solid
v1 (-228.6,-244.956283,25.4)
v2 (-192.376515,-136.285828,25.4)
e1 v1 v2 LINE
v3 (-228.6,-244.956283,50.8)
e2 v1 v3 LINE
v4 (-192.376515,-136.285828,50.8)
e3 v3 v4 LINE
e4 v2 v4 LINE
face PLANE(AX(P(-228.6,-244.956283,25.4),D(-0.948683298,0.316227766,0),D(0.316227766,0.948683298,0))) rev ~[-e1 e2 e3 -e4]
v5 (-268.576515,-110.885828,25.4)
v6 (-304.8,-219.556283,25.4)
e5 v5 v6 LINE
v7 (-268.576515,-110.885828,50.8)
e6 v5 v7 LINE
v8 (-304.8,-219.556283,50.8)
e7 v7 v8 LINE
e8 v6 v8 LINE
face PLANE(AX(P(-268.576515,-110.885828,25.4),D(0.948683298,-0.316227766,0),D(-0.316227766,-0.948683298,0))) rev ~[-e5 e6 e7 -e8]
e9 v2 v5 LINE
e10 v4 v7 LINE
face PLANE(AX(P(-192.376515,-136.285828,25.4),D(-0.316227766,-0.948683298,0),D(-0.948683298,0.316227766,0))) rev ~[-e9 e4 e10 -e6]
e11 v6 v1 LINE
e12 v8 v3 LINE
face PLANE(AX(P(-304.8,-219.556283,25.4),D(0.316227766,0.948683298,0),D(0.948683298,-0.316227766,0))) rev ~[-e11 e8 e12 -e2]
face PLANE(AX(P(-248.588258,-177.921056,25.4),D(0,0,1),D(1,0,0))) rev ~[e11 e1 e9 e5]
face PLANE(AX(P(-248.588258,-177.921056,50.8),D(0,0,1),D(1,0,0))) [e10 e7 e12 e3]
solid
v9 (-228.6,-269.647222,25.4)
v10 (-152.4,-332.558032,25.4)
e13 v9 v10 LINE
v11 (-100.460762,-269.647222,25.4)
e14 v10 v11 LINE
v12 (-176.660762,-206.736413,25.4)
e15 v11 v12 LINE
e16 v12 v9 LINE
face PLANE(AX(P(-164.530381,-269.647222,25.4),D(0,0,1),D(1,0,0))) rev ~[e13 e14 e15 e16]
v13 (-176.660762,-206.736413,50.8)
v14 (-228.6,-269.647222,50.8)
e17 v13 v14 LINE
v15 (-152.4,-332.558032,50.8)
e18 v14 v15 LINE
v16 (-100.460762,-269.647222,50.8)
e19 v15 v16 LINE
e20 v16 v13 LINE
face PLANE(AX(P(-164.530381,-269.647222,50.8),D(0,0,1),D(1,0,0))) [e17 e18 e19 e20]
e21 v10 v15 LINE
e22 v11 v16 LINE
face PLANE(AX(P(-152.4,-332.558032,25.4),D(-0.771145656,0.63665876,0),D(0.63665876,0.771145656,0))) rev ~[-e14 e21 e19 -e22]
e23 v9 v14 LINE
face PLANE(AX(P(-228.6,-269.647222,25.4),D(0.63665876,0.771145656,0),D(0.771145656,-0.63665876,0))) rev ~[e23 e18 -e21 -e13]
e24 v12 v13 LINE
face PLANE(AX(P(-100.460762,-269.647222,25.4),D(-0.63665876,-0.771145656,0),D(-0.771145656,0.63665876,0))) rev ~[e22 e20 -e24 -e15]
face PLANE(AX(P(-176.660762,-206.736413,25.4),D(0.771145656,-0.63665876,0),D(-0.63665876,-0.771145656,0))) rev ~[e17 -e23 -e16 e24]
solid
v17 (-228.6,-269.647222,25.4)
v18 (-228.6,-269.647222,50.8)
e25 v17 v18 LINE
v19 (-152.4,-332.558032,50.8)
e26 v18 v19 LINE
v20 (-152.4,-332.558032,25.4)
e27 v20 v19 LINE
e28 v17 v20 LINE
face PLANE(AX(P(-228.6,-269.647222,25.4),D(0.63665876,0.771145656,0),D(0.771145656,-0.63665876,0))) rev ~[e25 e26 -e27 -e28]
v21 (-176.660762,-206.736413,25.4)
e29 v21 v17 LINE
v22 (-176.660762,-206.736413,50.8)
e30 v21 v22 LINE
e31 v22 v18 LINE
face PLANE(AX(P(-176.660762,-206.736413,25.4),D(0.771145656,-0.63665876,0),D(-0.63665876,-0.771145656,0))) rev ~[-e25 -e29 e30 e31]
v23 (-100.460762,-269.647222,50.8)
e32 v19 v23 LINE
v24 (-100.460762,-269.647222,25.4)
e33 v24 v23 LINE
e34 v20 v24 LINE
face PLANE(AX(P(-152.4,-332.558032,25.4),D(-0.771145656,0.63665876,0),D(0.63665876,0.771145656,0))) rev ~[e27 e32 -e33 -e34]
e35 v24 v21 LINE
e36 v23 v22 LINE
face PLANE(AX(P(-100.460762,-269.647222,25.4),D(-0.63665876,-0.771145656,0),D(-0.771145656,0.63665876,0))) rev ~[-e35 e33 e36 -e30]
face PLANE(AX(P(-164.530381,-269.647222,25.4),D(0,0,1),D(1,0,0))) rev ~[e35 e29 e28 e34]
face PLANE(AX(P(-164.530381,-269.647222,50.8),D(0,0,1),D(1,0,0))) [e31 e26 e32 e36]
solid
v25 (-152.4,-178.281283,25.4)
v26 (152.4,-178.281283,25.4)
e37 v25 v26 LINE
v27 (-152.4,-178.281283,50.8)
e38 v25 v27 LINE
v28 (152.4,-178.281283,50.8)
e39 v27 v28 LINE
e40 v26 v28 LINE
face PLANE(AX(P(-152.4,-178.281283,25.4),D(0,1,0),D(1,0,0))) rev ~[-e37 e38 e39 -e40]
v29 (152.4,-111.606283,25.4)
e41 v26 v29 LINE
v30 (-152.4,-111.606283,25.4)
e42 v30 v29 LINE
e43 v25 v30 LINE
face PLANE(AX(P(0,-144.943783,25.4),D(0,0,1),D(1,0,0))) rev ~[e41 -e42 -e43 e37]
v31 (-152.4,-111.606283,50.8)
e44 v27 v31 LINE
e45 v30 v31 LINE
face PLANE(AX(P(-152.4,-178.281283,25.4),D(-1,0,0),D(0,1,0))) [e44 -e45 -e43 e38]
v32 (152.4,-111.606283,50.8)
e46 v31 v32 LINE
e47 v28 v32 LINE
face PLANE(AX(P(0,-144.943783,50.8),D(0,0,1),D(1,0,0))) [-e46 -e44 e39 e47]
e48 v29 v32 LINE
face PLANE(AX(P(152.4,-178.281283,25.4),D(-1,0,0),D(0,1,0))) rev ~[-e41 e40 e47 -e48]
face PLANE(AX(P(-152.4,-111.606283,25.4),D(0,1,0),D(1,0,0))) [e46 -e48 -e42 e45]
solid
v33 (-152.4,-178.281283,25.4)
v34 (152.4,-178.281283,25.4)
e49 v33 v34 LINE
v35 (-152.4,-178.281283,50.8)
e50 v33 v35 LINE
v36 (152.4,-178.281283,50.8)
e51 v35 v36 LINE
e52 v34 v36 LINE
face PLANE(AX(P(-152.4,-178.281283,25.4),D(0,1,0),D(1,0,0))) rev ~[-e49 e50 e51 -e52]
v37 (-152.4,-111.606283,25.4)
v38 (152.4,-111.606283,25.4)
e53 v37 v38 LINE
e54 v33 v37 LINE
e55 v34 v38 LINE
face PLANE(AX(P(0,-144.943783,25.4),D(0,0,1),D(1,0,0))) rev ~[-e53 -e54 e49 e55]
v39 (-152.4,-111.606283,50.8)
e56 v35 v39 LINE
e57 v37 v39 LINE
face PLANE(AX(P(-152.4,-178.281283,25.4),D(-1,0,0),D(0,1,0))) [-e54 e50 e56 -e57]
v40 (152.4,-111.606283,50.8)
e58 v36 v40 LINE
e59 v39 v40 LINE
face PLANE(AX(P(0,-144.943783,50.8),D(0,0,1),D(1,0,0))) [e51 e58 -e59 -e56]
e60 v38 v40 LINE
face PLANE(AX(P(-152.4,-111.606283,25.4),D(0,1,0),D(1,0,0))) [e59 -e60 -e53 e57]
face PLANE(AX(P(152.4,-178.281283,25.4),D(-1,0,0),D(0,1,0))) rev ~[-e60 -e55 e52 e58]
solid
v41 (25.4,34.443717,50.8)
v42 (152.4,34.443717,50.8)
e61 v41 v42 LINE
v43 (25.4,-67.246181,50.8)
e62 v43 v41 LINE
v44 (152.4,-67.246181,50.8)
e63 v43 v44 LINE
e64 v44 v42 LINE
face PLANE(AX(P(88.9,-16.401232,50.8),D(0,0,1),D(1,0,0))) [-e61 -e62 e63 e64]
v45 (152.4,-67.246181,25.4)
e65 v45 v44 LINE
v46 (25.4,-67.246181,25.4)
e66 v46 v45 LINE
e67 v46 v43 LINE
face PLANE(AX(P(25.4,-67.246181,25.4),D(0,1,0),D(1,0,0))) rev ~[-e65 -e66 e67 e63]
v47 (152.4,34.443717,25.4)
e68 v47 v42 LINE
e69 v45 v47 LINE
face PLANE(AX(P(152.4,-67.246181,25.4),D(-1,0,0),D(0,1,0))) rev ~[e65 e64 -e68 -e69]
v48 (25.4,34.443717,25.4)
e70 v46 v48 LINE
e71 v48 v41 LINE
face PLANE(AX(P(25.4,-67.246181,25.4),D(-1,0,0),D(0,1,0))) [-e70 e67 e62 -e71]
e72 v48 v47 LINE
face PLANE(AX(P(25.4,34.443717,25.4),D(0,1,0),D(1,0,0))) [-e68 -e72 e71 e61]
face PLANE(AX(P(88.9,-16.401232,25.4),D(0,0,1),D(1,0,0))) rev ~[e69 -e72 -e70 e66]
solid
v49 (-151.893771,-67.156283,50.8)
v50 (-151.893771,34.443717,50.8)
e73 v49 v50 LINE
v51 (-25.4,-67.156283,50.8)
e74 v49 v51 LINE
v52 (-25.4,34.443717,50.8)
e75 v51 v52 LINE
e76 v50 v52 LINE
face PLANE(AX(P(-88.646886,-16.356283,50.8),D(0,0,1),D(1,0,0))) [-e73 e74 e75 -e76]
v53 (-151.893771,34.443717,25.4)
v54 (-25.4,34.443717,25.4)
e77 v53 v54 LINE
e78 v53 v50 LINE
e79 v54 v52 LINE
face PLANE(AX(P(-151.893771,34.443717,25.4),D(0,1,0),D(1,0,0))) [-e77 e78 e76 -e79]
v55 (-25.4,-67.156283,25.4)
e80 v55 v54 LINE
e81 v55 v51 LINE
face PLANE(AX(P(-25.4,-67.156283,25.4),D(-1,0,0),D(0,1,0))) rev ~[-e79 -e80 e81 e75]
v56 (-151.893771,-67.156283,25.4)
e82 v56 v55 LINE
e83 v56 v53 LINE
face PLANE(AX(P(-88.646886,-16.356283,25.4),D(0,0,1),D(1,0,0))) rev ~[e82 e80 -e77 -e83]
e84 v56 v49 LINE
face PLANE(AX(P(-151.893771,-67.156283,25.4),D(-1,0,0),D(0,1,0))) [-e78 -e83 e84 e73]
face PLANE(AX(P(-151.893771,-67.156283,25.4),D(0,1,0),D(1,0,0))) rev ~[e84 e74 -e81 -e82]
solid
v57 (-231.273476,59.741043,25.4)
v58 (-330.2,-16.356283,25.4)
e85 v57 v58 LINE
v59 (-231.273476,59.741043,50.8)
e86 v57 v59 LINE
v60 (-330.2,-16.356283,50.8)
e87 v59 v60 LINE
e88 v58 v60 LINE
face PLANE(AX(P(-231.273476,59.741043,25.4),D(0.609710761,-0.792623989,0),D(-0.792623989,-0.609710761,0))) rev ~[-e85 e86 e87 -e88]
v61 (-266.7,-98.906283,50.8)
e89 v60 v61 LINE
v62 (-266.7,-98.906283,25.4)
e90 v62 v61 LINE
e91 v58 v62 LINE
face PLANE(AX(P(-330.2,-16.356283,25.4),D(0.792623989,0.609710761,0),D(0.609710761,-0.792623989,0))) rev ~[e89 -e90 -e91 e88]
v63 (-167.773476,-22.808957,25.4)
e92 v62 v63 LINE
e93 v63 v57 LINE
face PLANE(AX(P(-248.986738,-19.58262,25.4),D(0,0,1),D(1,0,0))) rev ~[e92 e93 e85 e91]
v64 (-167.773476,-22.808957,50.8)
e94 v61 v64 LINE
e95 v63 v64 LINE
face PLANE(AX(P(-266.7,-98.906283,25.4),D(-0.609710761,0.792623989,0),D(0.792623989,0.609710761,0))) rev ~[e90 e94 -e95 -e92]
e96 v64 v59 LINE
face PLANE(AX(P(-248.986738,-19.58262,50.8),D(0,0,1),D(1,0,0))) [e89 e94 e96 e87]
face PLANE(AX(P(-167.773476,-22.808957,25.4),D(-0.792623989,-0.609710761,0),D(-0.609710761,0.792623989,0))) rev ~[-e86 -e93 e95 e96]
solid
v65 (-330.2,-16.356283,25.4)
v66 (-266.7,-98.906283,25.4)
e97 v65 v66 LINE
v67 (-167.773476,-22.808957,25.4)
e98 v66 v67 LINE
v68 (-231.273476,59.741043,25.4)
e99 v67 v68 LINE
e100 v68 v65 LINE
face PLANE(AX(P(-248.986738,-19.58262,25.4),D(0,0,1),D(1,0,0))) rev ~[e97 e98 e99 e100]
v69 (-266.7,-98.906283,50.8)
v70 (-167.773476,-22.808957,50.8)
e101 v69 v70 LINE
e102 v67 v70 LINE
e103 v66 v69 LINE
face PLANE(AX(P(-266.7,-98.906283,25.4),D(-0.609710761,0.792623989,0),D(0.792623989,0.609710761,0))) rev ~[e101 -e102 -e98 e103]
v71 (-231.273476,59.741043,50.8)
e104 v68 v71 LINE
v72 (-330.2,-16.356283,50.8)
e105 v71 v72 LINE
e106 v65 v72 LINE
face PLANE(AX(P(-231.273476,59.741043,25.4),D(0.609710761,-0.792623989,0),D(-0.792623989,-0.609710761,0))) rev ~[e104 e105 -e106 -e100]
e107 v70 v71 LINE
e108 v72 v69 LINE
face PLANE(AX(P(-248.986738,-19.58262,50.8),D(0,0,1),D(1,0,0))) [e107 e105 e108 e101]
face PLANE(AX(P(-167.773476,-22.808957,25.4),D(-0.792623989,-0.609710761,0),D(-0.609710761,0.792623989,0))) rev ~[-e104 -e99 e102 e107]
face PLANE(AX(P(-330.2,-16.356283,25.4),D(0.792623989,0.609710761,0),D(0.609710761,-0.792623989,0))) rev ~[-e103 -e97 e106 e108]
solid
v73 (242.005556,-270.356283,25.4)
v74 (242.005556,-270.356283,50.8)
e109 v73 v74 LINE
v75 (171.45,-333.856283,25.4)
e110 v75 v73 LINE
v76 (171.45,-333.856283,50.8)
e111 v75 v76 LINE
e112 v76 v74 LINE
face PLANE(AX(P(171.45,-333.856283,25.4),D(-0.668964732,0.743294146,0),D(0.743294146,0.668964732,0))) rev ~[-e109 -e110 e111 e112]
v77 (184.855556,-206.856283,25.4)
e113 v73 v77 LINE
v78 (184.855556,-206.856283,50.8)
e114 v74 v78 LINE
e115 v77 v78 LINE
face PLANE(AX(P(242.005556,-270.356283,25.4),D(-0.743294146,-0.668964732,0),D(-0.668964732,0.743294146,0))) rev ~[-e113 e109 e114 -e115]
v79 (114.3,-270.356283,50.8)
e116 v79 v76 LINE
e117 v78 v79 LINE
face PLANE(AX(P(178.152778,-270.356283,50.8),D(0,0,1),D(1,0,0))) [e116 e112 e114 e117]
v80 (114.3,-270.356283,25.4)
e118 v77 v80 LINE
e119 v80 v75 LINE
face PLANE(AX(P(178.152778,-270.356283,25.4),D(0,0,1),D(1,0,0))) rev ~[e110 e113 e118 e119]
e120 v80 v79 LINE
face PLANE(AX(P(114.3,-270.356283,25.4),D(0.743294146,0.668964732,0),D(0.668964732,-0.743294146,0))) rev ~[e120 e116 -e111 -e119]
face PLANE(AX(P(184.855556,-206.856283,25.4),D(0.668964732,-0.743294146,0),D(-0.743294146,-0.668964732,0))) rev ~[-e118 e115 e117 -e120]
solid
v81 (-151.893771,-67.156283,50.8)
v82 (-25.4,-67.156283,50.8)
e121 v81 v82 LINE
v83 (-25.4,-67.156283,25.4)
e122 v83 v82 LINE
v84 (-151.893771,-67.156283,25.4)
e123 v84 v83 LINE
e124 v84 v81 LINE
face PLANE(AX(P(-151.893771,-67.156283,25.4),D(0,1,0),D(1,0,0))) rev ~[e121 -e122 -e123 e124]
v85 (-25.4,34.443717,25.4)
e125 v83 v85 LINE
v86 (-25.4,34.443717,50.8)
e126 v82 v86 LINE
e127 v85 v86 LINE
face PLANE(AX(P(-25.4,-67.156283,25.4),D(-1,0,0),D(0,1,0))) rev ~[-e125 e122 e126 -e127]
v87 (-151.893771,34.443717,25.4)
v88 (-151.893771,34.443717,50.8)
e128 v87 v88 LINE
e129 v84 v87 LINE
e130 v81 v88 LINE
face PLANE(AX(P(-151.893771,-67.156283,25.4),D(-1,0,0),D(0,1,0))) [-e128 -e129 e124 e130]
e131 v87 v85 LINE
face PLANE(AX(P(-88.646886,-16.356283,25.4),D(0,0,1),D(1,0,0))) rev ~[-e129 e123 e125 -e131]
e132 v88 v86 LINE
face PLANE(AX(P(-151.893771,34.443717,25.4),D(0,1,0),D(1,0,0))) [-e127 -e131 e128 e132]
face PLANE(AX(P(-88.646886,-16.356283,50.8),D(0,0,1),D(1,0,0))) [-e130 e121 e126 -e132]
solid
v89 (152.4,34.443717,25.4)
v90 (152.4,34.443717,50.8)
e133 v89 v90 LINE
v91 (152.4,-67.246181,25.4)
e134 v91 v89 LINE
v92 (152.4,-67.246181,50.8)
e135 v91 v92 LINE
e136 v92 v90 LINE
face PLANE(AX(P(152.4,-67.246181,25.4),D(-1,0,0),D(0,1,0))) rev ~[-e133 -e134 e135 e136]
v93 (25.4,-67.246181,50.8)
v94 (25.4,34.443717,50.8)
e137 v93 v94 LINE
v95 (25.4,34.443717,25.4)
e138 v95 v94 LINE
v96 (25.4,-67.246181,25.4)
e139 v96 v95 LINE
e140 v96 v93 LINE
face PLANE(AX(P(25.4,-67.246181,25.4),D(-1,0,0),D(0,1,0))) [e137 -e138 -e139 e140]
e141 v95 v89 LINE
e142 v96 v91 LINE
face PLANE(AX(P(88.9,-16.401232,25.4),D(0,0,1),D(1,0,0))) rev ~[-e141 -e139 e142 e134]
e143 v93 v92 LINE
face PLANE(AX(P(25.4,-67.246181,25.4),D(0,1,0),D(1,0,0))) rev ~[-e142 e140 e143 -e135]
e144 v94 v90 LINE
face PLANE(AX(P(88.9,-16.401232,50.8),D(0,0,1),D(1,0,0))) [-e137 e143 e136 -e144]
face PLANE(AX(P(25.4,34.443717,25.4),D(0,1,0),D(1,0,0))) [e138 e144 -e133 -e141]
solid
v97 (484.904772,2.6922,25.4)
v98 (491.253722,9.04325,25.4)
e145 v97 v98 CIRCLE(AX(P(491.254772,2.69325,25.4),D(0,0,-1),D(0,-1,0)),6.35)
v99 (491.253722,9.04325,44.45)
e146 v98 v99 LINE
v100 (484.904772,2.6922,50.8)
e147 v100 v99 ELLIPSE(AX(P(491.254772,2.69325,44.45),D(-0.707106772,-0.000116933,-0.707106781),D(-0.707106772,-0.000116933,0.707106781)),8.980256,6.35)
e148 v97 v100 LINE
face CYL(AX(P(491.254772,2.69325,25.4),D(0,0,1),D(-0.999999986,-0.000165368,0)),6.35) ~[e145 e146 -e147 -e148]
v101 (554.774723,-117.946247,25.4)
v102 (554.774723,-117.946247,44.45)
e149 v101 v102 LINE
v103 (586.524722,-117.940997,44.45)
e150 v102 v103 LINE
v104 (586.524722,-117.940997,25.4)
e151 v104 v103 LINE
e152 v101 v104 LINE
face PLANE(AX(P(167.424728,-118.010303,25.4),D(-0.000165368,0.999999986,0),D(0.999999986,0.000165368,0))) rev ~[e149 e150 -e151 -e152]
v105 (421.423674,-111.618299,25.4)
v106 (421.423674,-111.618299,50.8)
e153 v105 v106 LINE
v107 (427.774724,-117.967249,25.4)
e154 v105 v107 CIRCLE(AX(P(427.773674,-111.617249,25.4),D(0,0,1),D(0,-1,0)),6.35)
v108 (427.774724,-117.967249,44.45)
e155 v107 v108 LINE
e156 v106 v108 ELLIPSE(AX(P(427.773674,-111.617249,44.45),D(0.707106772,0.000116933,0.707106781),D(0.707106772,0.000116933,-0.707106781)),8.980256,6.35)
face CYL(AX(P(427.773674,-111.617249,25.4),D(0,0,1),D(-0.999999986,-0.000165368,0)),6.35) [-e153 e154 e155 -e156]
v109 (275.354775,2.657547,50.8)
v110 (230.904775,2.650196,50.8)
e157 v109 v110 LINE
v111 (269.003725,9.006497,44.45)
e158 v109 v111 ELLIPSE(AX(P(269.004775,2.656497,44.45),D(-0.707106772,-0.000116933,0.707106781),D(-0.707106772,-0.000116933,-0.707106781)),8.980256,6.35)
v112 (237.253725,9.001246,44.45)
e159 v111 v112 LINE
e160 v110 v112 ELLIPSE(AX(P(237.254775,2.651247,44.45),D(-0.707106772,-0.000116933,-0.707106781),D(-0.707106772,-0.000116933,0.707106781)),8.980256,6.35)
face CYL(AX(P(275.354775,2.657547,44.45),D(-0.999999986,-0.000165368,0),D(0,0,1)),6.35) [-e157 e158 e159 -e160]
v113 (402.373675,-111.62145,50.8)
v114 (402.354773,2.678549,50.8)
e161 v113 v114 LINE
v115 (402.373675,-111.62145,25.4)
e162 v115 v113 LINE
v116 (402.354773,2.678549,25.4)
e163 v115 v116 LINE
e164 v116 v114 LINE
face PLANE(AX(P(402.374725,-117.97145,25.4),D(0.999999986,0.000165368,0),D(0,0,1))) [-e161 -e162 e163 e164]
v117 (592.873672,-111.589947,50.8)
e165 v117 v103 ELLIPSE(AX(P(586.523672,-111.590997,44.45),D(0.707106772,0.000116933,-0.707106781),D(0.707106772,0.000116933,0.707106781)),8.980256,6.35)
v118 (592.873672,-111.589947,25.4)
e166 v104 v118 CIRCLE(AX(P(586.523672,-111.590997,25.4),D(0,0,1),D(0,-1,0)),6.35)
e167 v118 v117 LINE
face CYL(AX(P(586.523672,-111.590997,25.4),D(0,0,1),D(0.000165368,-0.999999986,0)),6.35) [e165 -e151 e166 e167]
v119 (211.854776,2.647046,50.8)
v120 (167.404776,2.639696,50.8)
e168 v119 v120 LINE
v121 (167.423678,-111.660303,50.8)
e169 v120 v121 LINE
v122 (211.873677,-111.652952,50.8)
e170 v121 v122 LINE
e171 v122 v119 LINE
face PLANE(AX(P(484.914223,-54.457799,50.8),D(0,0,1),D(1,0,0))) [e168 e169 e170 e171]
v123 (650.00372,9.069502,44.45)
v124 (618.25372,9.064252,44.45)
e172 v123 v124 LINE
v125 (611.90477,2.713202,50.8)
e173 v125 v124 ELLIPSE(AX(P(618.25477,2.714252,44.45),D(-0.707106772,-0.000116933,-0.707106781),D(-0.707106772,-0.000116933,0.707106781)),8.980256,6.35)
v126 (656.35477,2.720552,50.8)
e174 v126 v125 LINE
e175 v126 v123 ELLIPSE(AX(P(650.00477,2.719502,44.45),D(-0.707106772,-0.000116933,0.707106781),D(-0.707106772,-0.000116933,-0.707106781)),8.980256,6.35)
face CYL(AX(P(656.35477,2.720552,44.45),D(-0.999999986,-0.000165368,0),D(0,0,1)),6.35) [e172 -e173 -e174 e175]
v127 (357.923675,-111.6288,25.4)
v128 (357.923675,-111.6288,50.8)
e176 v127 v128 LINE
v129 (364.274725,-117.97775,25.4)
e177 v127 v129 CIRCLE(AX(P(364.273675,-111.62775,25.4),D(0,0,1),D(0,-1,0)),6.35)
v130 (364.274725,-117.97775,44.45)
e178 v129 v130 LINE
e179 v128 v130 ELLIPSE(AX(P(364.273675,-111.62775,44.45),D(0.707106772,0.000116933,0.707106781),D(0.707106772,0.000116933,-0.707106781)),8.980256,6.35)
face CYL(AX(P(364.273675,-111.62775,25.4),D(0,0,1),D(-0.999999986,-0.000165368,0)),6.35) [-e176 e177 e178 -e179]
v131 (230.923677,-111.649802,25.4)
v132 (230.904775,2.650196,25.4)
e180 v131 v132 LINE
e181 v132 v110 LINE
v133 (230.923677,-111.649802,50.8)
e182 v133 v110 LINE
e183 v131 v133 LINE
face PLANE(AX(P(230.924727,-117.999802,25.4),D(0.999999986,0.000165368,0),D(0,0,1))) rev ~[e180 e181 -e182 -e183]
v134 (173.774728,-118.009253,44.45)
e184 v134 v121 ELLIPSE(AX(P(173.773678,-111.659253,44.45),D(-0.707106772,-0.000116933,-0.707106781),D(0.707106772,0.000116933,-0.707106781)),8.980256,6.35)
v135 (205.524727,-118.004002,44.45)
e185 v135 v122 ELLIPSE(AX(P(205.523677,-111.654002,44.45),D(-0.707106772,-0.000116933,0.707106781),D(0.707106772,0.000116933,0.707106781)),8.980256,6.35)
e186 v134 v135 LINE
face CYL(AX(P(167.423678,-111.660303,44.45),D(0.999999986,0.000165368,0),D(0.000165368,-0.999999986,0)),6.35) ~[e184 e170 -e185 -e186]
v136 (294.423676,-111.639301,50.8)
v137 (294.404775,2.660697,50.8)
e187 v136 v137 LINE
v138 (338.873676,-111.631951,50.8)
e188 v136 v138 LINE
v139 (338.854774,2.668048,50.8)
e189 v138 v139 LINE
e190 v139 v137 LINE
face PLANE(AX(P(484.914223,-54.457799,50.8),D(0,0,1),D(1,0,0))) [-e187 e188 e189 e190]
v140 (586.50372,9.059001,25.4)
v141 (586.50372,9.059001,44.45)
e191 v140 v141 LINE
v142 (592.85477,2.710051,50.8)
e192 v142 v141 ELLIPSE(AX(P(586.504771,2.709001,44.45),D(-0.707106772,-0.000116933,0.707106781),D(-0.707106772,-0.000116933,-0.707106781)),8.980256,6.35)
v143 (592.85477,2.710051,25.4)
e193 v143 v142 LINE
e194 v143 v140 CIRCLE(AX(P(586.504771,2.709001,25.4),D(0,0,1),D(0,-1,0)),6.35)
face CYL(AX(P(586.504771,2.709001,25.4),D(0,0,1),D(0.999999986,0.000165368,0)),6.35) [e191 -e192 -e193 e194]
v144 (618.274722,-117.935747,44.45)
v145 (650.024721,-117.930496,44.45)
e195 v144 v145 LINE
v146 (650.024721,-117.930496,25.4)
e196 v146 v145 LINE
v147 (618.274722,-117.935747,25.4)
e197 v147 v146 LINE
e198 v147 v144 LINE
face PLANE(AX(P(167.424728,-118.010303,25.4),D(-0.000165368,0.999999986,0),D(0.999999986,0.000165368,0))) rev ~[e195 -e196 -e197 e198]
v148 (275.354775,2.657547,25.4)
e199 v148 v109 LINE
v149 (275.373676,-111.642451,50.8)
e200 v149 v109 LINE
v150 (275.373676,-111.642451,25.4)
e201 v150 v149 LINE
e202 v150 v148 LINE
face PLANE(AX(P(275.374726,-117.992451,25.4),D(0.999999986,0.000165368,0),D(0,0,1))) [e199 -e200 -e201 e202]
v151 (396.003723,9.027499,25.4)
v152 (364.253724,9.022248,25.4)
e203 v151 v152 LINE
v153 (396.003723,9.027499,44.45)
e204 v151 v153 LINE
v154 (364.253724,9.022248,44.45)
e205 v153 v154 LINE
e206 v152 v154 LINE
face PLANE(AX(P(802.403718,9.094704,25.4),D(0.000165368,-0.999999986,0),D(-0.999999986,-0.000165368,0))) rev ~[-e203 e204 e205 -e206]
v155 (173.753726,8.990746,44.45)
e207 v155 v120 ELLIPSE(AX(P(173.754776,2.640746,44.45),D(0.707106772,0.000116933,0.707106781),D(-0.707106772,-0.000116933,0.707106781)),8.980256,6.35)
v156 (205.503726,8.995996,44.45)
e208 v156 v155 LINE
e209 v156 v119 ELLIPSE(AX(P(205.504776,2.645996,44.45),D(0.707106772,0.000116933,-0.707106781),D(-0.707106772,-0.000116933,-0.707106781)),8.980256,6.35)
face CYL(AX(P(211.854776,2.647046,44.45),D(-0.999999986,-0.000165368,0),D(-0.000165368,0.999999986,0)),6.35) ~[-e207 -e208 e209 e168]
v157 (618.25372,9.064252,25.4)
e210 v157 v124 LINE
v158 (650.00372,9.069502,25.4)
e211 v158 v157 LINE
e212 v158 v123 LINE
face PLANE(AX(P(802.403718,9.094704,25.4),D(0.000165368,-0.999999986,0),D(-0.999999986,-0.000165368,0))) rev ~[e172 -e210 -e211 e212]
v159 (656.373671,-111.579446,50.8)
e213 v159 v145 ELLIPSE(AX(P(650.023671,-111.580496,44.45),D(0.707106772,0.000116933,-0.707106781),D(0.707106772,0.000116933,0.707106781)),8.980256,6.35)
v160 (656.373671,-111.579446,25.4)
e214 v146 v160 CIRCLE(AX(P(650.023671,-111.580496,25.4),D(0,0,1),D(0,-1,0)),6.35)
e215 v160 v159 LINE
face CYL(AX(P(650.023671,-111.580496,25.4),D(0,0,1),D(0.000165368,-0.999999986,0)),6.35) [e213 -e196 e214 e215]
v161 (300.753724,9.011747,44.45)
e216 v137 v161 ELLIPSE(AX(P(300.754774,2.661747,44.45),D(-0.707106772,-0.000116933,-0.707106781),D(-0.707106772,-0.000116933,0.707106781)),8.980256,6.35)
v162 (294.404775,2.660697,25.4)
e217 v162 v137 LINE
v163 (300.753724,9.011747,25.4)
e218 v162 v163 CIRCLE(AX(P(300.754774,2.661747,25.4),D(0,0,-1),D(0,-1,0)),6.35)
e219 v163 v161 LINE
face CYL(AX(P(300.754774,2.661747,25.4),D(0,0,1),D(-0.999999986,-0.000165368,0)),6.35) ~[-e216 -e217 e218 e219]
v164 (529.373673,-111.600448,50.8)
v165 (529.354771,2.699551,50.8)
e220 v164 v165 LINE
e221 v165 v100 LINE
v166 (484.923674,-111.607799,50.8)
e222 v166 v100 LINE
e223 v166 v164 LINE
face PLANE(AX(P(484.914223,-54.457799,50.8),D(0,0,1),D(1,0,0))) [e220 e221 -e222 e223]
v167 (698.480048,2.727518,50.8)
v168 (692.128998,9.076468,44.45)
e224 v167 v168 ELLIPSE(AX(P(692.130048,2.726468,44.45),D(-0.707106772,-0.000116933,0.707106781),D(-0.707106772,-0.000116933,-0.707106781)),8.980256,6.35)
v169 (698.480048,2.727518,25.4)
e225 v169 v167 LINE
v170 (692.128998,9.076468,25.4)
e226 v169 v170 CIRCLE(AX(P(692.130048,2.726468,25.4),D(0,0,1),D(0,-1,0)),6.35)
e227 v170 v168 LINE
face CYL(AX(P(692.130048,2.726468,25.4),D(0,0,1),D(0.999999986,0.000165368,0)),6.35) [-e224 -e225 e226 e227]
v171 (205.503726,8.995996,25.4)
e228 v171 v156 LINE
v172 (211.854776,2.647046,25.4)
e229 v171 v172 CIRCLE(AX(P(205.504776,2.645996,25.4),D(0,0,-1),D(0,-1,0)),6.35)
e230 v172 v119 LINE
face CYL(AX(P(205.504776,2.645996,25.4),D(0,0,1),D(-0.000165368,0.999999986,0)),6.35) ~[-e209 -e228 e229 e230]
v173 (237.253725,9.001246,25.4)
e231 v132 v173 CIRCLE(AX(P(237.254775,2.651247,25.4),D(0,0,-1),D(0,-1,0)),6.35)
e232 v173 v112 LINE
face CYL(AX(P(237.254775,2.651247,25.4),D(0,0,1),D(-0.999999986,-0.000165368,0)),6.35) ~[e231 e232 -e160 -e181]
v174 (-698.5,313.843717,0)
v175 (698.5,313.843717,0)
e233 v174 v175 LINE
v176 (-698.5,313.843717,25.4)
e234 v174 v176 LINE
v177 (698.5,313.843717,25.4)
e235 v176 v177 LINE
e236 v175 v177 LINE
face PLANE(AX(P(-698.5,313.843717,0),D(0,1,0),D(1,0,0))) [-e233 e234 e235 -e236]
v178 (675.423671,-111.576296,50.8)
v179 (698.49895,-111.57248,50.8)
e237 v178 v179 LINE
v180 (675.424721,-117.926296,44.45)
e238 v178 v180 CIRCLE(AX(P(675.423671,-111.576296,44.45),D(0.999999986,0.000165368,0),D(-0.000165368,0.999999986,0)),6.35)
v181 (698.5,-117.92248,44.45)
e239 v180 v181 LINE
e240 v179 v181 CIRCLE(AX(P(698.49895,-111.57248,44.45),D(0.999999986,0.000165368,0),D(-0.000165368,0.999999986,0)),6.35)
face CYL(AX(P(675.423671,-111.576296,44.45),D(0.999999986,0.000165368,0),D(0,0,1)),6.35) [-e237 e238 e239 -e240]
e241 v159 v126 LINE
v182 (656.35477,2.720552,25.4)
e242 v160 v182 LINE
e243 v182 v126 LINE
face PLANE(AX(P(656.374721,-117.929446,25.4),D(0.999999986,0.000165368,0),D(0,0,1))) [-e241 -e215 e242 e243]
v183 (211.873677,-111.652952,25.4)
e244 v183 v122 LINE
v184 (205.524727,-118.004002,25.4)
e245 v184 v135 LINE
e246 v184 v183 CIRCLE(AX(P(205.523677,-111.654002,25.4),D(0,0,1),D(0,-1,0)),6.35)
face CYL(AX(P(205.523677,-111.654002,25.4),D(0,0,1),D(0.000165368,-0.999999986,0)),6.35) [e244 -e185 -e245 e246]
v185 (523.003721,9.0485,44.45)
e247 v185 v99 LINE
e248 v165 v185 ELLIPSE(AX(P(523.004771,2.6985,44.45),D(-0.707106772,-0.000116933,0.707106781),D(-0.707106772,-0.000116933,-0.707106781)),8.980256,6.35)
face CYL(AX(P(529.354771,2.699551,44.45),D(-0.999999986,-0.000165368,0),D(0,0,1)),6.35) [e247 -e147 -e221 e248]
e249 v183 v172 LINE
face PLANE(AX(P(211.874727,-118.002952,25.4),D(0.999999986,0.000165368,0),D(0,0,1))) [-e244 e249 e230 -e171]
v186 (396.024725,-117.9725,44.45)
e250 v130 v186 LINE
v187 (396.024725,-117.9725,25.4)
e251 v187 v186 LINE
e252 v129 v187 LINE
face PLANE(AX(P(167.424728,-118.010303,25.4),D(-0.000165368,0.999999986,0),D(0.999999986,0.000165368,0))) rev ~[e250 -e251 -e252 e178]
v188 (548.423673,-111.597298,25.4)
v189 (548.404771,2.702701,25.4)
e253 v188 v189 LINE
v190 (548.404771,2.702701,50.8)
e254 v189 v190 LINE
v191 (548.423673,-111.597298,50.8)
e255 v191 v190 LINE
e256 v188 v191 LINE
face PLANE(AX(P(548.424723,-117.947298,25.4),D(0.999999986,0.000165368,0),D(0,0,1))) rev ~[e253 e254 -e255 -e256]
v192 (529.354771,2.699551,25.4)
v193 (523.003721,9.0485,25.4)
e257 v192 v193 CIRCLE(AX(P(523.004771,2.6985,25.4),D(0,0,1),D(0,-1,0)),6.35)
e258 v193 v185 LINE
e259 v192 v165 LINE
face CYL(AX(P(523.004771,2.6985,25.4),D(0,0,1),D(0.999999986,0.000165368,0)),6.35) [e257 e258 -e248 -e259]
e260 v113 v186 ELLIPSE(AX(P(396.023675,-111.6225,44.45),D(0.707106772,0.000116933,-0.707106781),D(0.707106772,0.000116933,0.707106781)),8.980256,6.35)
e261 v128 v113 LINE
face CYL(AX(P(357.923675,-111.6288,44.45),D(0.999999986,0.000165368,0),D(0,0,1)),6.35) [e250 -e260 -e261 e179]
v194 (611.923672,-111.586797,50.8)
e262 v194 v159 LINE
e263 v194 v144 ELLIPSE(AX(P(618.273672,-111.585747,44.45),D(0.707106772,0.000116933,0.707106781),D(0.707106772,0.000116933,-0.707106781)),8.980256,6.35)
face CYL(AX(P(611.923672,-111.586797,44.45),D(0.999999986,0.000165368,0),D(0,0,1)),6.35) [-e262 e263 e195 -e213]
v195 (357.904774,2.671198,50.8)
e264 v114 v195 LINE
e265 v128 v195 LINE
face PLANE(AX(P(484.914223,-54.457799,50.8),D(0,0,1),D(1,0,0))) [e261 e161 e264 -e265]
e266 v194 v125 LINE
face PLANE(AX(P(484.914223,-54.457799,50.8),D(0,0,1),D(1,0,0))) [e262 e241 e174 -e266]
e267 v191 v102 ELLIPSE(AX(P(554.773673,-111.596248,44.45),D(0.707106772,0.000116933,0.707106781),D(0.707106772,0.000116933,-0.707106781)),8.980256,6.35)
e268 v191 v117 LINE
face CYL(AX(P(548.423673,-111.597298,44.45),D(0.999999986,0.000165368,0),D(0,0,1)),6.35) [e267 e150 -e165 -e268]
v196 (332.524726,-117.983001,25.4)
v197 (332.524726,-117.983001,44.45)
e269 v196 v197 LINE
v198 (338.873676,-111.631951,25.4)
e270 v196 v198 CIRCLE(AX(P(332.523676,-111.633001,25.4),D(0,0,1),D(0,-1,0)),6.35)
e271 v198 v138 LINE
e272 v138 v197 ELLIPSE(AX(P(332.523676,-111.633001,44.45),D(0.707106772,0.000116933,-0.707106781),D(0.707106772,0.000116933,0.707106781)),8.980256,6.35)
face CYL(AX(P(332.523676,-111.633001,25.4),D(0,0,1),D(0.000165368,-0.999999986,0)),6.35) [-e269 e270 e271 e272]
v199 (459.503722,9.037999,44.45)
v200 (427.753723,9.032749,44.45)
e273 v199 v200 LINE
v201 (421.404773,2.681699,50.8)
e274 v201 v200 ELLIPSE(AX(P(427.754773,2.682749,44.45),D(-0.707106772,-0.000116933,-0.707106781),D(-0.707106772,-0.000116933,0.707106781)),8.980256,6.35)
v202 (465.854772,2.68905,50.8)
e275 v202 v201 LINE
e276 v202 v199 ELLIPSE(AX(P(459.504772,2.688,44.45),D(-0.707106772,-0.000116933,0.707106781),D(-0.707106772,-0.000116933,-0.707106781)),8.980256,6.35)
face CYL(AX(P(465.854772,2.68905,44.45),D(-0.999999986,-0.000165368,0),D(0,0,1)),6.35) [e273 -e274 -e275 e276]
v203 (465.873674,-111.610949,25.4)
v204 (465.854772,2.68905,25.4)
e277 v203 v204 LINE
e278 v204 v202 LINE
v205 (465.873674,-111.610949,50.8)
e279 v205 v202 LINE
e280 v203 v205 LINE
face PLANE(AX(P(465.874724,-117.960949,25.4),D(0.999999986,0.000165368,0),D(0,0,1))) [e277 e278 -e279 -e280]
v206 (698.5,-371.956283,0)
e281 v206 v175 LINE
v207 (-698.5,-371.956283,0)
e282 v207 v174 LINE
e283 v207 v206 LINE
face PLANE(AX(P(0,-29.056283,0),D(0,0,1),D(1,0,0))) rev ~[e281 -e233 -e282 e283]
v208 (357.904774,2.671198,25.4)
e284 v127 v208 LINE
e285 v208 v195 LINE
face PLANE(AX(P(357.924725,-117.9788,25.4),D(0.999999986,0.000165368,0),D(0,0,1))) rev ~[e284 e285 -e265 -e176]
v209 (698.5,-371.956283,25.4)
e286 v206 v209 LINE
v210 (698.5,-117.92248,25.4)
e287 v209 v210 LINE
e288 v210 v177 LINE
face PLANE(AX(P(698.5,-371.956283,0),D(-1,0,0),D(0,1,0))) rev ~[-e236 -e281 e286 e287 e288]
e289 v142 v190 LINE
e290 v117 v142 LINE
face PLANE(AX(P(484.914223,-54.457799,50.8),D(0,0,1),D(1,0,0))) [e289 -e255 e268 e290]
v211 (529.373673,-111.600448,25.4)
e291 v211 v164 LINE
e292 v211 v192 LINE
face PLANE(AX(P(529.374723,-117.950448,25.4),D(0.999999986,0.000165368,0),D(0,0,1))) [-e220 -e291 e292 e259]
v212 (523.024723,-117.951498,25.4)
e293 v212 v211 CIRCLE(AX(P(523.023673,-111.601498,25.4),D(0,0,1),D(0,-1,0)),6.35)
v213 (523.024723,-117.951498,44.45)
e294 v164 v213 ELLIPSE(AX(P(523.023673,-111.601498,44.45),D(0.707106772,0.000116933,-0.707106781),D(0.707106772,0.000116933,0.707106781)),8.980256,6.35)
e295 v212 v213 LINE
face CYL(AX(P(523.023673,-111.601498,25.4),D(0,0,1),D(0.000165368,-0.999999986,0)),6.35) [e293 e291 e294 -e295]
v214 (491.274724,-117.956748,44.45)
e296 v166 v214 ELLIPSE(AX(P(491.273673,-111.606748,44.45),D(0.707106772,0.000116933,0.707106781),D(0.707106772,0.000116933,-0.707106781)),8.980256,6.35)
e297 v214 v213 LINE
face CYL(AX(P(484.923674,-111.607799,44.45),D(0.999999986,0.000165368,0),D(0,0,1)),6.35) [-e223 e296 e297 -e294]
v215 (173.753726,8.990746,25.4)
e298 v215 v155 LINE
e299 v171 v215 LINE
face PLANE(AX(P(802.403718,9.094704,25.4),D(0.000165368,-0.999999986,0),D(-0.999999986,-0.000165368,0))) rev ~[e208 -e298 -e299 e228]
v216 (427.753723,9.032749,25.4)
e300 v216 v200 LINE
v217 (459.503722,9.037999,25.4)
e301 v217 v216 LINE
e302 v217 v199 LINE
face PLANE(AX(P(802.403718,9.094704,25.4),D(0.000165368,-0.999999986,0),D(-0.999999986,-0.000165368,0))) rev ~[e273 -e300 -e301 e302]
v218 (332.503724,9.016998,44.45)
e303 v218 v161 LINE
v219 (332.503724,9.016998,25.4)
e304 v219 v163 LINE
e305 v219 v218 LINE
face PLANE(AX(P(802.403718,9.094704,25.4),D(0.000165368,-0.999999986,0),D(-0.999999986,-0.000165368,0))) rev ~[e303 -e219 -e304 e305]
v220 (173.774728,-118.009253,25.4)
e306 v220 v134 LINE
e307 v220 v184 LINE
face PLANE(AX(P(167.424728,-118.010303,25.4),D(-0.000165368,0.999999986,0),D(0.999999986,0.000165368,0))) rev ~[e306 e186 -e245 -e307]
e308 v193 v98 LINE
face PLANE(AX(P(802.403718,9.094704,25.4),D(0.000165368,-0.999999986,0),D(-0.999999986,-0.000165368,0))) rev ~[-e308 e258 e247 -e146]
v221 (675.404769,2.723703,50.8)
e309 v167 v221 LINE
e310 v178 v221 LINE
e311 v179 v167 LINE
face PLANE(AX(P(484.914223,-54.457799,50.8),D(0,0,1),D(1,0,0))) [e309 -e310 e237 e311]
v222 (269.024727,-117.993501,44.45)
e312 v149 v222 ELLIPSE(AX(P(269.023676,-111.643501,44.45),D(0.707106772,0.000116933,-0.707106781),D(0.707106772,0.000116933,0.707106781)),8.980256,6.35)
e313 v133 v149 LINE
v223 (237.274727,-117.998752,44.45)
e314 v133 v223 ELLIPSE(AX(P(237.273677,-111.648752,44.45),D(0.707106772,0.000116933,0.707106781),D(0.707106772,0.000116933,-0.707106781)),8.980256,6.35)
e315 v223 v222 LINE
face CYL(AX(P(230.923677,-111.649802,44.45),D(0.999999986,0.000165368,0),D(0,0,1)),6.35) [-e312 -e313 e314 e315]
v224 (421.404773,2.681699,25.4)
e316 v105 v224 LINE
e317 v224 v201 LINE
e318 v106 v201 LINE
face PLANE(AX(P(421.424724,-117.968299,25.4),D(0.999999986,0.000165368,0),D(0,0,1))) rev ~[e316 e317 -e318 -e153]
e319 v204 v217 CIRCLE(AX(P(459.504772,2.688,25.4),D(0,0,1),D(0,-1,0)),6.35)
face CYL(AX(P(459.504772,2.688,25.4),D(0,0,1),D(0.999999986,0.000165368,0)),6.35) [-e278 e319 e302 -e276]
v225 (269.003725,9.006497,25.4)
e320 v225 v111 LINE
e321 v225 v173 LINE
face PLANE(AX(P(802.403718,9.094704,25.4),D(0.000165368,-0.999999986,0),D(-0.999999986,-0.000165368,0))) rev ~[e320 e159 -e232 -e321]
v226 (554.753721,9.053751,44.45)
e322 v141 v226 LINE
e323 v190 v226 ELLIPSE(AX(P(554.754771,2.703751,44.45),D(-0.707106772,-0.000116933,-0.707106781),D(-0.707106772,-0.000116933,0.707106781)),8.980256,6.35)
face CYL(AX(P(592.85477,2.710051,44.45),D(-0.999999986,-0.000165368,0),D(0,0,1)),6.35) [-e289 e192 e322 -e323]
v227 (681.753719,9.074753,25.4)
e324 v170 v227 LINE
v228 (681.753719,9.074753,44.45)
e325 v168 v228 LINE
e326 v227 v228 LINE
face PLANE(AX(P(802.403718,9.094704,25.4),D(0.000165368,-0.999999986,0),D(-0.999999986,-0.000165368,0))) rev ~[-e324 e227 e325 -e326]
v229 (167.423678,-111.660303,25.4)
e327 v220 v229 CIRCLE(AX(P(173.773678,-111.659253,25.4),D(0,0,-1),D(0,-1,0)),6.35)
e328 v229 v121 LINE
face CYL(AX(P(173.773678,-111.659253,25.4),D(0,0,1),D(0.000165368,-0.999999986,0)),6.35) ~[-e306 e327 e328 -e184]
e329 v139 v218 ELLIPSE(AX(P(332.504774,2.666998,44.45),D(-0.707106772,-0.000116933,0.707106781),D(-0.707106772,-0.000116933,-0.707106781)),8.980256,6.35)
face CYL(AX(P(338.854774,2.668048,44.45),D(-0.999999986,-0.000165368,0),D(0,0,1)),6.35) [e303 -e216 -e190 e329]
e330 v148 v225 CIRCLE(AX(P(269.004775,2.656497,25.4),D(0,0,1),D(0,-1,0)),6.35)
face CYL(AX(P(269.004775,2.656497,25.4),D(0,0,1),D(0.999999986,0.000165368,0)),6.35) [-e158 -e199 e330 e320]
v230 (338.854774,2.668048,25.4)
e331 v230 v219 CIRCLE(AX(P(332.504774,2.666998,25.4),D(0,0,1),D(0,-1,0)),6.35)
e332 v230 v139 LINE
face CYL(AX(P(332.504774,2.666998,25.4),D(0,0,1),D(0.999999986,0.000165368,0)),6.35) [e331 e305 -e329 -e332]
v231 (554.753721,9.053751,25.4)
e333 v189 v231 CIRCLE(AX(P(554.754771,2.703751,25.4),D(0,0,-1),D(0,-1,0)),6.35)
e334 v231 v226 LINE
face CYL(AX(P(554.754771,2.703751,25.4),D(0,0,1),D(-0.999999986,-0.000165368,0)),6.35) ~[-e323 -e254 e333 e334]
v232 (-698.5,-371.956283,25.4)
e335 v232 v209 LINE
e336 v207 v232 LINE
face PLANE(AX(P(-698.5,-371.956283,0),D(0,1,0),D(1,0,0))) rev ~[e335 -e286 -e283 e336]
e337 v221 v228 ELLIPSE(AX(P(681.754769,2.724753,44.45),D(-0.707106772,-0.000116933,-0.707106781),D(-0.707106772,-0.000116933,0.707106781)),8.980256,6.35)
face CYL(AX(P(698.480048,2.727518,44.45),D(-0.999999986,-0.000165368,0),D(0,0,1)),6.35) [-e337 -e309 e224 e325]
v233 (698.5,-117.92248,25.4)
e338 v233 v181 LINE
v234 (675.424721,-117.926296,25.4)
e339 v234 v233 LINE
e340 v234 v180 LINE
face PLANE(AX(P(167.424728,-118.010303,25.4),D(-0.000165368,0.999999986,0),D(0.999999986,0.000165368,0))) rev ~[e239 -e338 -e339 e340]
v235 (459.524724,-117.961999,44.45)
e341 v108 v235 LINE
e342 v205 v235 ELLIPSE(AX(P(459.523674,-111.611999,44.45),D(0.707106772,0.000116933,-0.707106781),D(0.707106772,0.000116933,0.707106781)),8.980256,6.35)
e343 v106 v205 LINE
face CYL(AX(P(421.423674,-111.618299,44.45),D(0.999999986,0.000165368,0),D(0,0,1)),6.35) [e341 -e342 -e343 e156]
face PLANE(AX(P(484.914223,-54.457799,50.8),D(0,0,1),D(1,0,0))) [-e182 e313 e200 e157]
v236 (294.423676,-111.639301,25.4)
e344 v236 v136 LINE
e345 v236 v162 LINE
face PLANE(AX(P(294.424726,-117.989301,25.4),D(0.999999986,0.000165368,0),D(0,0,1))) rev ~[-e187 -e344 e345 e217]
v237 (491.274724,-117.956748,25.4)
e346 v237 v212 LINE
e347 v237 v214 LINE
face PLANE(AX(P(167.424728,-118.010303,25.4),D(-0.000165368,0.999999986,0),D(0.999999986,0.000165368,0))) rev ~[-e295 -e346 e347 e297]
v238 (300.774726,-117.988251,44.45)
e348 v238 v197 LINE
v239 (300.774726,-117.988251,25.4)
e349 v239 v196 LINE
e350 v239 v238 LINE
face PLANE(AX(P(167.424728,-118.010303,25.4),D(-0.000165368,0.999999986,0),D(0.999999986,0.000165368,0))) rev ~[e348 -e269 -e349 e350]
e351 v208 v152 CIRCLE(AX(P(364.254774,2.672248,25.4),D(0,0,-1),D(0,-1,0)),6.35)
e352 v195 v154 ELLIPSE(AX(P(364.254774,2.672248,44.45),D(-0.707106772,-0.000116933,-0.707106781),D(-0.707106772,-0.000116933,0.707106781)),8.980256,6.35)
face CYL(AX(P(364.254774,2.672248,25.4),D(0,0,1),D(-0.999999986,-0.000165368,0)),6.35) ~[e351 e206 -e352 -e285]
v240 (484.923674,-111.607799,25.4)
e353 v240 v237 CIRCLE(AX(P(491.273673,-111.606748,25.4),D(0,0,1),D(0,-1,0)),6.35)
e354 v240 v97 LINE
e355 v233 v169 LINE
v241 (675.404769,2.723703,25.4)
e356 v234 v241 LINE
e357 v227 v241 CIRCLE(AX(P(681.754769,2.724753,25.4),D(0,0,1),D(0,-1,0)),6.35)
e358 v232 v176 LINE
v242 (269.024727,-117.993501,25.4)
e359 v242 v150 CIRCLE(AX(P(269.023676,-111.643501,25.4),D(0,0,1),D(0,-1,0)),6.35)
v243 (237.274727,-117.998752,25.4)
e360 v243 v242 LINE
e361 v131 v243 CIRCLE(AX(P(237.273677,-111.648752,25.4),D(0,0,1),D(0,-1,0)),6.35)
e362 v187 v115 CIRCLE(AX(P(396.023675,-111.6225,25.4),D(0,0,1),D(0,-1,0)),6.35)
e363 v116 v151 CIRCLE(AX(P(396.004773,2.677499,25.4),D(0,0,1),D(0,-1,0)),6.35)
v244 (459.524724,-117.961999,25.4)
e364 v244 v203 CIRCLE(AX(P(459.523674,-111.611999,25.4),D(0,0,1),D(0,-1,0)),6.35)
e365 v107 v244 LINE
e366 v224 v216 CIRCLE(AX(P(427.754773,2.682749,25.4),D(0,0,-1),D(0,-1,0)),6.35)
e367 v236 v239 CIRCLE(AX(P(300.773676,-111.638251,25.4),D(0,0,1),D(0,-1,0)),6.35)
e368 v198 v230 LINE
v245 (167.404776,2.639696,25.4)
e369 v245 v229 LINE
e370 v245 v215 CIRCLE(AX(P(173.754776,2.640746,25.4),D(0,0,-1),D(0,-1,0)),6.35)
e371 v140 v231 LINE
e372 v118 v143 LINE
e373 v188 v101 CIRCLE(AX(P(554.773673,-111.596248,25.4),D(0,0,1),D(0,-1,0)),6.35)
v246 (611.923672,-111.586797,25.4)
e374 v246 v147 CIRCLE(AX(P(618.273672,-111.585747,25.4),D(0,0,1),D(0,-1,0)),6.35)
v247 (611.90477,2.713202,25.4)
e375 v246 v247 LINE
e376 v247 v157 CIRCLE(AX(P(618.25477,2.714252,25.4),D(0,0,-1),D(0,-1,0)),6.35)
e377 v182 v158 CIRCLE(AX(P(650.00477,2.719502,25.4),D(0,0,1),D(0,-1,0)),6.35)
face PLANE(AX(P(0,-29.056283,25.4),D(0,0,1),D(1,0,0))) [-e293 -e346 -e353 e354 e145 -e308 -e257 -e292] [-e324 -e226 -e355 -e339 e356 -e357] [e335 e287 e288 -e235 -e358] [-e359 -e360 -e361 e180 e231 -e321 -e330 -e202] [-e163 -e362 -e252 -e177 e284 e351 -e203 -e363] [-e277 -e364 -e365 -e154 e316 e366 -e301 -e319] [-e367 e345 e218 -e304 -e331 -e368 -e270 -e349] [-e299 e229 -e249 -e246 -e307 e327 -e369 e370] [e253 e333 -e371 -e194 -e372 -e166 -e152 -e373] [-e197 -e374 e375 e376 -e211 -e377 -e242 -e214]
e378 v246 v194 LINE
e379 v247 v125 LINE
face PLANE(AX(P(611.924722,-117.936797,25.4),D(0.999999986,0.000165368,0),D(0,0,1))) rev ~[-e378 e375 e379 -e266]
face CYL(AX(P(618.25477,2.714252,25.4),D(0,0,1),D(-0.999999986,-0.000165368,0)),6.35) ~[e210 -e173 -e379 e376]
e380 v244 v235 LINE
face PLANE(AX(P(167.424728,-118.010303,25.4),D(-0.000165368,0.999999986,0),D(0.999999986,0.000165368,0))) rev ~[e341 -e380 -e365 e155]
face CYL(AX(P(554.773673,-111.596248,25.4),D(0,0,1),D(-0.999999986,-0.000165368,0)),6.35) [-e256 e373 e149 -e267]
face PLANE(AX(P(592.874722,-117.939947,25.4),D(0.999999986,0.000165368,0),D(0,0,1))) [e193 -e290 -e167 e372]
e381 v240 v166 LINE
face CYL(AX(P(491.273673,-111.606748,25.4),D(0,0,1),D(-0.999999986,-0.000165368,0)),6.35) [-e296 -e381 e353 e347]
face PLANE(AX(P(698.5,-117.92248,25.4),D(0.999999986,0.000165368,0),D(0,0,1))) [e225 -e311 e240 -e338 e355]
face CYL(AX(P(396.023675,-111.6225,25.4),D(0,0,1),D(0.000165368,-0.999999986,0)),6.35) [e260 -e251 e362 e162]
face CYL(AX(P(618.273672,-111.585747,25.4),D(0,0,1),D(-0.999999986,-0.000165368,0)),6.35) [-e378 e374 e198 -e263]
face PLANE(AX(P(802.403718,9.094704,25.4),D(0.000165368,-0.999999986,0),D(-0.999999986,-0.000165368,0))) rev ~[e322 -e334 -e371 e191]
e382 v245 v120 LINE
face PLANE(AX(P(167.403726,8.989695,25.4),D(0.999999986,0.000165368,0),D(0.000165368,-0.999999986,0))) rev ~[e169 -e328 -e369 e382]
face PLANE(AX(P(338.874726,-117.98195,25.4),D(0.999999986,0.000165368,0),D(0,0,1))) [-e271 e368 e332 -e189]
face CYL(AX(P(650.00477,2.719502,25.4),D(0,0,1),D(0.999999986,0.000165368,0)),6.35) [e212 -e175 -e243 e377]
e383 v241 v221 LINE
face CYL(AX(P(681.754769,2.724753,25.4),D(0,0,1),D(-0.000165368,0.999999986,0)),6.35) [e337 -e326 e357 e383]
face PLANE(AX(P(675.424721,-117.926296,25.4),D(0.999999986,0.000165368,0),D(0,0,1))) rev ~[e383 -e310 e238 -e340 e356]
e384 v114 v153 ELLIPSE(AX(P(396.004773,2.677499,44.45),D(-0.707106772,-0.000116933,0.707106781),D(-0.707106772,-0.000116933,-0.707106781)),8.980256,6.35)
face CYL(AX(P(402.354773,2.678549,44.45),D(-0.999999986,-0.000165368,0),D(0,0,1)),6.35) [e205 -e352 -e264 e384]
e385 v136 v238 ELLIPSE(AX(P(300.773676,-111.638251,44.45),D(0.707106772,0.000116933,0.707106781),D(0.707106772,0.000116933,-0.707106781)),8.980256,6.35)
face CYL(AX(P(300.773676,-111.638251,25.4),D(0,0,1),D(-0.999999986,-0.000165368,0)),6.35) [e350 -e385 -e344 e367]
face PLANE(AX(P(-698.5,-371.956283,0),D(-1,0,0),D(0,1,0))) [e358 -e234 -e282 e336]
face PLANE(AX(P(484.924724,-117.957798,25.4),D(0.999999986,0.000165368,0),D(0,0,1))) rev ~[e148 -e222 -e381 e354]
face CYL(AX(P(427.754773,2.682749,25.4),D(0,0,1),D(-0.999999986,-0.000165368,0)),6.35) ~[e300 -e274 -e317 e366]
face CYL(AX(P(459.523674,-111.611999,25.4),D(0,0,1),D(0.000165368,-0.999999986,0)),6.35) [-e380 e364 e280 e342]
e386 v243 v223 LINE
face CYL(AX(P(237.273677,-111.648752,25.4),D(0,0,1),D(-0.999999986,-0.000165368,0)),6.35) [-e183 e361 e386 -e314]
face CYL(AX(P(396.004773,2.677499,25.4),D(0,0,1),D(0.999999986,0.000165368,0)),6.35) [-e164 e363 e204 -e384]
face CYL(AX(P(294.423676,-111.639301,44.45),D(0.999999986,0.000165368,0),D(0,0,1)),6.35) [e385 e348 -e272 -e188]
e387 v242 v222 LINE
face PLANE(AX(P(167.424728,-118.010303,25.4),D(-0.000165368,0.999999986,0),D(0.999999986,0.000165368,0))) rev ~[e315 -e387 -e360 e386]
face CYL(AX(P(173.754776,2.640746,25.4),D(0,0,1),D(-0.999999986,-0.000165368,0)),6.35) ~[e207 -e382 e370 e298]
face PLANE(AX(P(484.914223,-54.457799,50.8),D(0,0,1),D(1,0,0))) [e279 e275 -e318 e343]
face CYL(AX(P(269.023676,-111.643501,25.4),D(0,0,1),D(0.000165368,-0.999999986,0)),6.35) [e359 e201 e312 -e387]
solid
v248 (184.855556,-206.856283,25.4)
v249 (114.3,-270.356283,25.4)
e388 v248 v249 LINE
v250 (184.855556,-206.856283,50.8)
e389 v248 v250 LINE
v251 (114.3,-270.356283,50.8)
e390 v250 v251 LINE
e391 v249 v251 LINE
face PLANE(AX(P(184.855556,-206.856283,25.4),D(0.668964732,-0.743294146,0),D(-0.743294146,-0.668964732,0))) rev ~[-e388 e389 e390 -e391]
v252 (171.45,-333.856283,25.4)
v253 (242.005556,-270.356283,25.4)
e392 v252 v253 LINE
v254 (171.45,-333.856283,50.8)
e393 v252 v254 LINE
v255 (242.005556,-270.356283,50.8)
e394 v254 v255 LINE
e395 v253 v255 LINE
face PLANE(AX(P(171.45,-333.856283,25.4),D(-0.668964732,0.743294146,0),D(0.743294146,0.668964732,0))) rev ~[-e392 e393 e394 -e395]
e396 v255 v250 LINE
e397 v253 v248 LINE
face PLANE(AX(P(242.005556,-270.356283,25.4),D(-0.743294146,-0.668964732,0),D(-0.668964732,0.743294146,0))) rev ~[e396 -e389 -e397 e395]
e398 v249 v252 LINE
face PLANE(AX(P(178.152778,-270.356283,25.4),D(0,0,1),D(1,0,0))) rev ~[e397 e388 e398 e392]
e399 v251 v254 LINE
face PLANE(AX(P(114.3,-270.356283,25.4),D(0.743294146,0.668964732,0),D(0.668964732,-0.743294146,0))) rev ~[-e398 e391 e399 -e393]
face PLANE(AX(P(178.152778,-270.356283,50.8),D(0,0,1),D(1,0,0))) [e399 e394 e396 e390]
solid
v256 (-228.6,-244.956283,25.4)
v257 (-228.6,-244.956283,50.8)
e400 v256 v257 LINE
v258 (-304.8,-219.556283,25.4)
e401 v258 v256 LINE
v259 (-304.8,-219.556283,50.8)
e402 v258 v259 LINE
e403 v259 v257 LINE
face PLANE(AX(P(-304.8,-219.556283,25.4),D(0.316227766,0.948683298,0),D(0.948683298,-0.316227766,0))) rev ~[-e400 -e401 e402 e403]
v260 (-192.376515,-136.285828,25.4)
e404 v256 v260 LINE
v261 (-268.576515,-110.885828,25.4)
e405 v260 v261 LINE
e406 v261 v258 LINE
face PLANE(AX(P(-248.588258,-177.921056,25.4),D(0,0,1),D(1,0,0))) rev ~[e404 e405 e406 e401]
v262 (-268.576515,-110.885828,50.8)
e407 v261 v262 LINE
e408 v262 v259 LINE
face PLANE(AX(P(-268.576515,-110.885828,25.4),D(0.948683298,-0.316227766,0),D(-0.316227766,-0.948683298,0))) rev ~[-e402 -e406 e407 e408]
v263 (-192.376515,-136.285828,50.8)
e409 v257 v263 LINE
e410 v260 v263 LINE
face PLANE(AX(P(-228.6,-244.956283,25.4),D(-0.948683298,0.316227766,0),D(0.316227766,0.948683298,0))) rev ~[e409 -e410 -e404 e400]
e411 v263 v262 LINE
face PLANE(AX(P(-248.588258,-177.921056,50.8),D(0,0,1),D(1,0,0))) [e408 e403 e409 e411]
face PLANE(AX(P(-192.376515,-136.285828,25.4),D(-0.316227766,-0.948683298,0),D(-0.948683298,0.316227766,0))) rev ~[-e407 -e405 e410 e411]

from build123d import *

# Parameters (mm, degrees)
F0_W     = 1397
F0_H     = 685.8
F1_DEPTH = 25.4
F2_W     = 304.8
F2_H     = 66.675
F3_DEPTH = 25.4
F2_W_2   = 126.4937713082
F2_H_2   = 101.6
F2_W_3   = 127
F2_H_3   = 101.6898979807
F5_DEPTH = 25.4
F6_W     = 103.9247207072
F6_H     = 25.4
F6_W_2   = 19.05
F7_DEPTH = 203.2
F8_R     = 6.35
F9_DEPTH = 25.4


with BuildPart() as f1:
    # F0 (on Top) → F1 (new body)
    with BuildSketch(Plane.XY):
        with Locations((0, -29.0562831177)):
            Rectangle(F0_W, F0_H)
    extrude(amount=F1_DEPTH)

    # F4 (on face) → F5 (join)
    with BuildSketch(Plane.XY.offset(25.4)):
        Polygon((167.4247279687, -118.0103028116), (802.4247192862, -117.9052940253), (802.4037175289, 9.0947042382), (167.4037262115, 8.9896954519), align=None)
    extrude(amount=F5_DEPTH)

    # F6 (on face) → F7 (cut)
    with BuildSketch(Plane(origin=(0.0195197257, -118.0379863045, 0), x_dir=(0.9999999863, 0.0001653682, 0), z_dir=(0.0001653682, -0.9999999863, 0))):
        with Locations((750.4428501784, 38.1)):
            Rectangle(F6_W, F6_H)
        with Locations((665.880210532, 38.1)):
            Rectangle(F6_W_2, F6_H)
        with Locations((602.380210532, 38.1)):
            Rectangle(F6_W_2, F6_H)
        with Locations((538.880210532, 38.1)):
            Rectangle(F6_W_2, F6_H)
        with Locations((475.380210532, 38.1)):
            Rectangle(F6_W_2, F6_H)
        with Locations((411.880210532, 38.1)):
            Rectangle(F6_W_2, F6_H)
        with Locations((348.380210532, 38.1)):
            Rectangle(F6_W_2, F6_H)
        with Locations((284.880210532, 38.1)):
            Rectangle(F6_W_2, F6_H)
        with Locations((221.380210532, 38.1)):
            Rectangle(F6_W_2, F6_H)
    extrude(amount=-F7_DEPTH, mode=Mode.SUBTRACT)

    # F8
    f8_edges = [f1.edges().sort_by_distance(p)[0] for p in [
        (189.649728, -118.006628, 50.8),
        (253.149727, -117.996127, 50.8),
        (316.649726, -117.985626, 50.8),
        (380.149725, -117.975125, 50.8),
        (443.649724, -117.964624, 50.8),
        (507.149723, -117.954123, 50.8),
        (570.649722, -117.943622, 50.8),
        (634.149722, -117.933121, 50.8),
        (634.12872, 9.066877, 50.8),
        (686.941359, 9.07561, 50.8),
        (686.962361, -117.924388, 50.8),
        (570.628721, 9.056376, 50.8),
        (507.128722, 9.045875, 50.8),
        (443.628722, 9.035374, 50.8),
        (189.628726, 8.993371, 50.8),
        (253.128725, 9.003872, 50.8),
        (316.628724, 9.014373, 50.8),
        (380.128723, 9.024873, 50.8),
        (167.424728, -118.010303, 38.1),
        (211.874727, -118.002952, 38.1),
        (230.924727, -117.999802, 38.1),
        (275.374726, -117.992451, 38.1),
        (294.424726, -117.989301, 38.1),
        (338.874726, -117.98195, 38.1),
        (357.924725, -117.9788, 38.1),
        (402.374725, -117.97145, 38.1),
        (421.424724, -117.968299, 38.1),
        (465.874724, -117.960949, 38.1),
        (484.924724, -117.957798, 38.1),
        (529.374723, -117.950448, 38.1),
        (548.424723, -117.947298, 38.1),
        (592.874722, -117.939947, 38.1),
        (611.924722, -117.936797, 38.1),
        (656.374721, -117.929446, 38.1),
        (211.853726, 8.997046, 38.1),
        (167.403726, 8.989695, 38.1),
        (230.903725, 9.000196, 38.1),
        (275.353725, 9.007547, 38.1),
        (294.403724, 9.010697, 38.1),
        (338.853724, 9.018048, 38.1),
        (357.903724, 9.021198, 38.1),
        (402.353723, 9.028549, 38.1),
        (421.403723, 9.031699, 38.1),
        (465.853722, 9.03905, 38.1),
        (484.903722, 9.0422, 38.1),
        (529.353721, 9.04955, 38.1),
        (548.403721, 9.052701, 38.1),
        (592.85372, 9.060051, 38.1),
        (611.90372, 9.063202, 38.1),
        (656.35372, 9.070552, 38.1),
        (675.403719, 9.073702, 38.1),
        (698.478998, 9.077518, 38.1),
    ]]
    fillet(f8_edges, radius=F8_R)


with BuildPart() as f3:
    # F2 (on face) → F3 (new body)
    with BuildSketch(Plane.XY.offset(25.4)):
        with Locations((0, -144.9437831177)):
            Rectangle(F2_W, F2_H)
    extrude(amount=F3_DEPTH)


with BuildPart() as f3b:
    # F2 (on face) → F3, piece 2 (new body)
    with BuildSketch(Plane.XY.offset(25.4)):
        with Locations((-88.6468856541, -16.3562831177)):
            Rectangle(F2_W_2, F2_H_2)
    extrude(amount=F3_DEPTH)


with BuildPart() as f3c:
    # F2 (on face) → F3, piece 3 (new body)
    with BuildSketch(Plane.XY.offset(25.4)):
        with Locations((88.9, -16.401232108)):
            Rectangle(F2_W_3, F2_H_3)
    extrude(amount=F3_DEPTH)


with BuildPart() as f3d:
    # F2 (on face) → F3, piece 4 (new body)
    with BuildSketch(Plane.XY.offset(25.4)):
        Polygon((-152.4, -332.5580318258), (-100.4607616062, -269.6472222172), (-176.6607616062, -206.7364126086), (-228.6, -269.6472222172), align=None)
    extrude(amount=F3_DEPTH)


with BuildPart() as f3e:
    # F2 (on face) → F3, piece 5 (new body)
    with BuildSketch(Plane.XY.offset(25.4)):
        Polygon((-228.6, -244.9562831177), (-192.3765150139, -136.2858281594), (-268.5765150139, -110.8858281594), (-304.8, -219.5562831177), align=None)
    extrude(amount=F3_DEPTH)


with BuildPart() as f3f:
    # F2 (on face) → F3, piece 6 (new body)
    with BuildSketch(Plane.XY.offset(25.4)):
        Polygon((-266.7, -98.9062831177), (-167.7734755747, -22.8089566367), (-231.2734755747, 59.7410433633), (-330.2, -16.3562831177), align=None)
    extrude(amount=F3_DEPTH)


with BuildPart() as f3g:
    # F2 (on face) → F3, piece 7 (new body)
    with BuildSketch(Plane.XY.offset(25.4)):
        Polygon((184.8555555556, -206.8562831177), (114.3, -270.3562831177), (171.45, -333.8562831177), (242.0055555556, -270.3562831177), align=None)
    extrude(amount=F3_DEPTH)


with BuildPart() as f9:
    # F2 (on face) → F9 (new body)
    with BuildSketch(Plane.XY.offset(25.4)):
        with Locations((0, -144.9437831177)):
            Rectangle(F2_W, F2_H)
    extrude(amount=F9_DEPTH)


with BuildPart() as f9b:
    # F2 (on face) → F9, piece 2 (new body)
    with BuildSketch(Plane.XY.offset(25.4)):
        with Locations((-88.6468856541, -16.3562831177)):
            Rectangle(F2_W_2, F2_H_2)
    extrude(amount=F9_DEPTH)


with BuildPart() as f9c:
    # F2 (on face) → F9, piece 3 (new body)
    with BuildSketch(Plane.XY.offset(25.4)):
        with Locations((88.9, -16.401232108)):
            Rectangle(F2_W_3, F2_H_3)
    extrude(amount=F9_DEPTH)


with BuildPart() as f9d:
    # F2 (on face) → F9, piece 4 (new body)
    with BuildSketch(Plane.XY.offset(25.4)):
        Polygon((-152.4, -332.5580318258), (-100.4607616062, -269.6472222172), (-176.6607616062, -206.7364126086), (-228.6, -269.6472222172), align=None)
    extrude(amount=F9_DEPTH)


with BuildPart() as f9e:
    # F2 (on face) → F9, piece 5 (new body)
    with BuildSketch(Plane.XY.offset(25.4)):
        Polygon((-228.6, -244.9562831177), (-192.3765150139, -136.2858281594), (-268.5765150139, -110.8858281594), (-304.8, -219.5562831177), align=None)
    extrude(amount=F9_DEPTH)


with BuildPart() as f9f:
    # F2 (on face) → F9, piece 6 (new body)
    with BuildSketch(Plane.XY.offset(25.4)):
        Polygon((-266.7, -98.9062831177), (-167.7734755747, -22.8089566367), (-231.2734755747, 59.7410433633), (-330.2, -16.3562831177), align=None)
    extrude(amount=F9_DEPTH)


with BuildPart() as f9g:
    # F2 (on face) → F9, piece 7 (new body)
    with BuildSketch(Plane.XY.offset(25.4)):
        Polygon((184.8555555556, -206.8562831177), (114.3, -270.3562831177), (171.45, -333.8562831177), (242.0055555556, -270.3562831177), align=None)
    extrude(amount=F9_DEPTH)


solid = Compound([f1.part, f3.part, f3b.part, f3c.part, f3d.part, f3e.part, f3f.part, f3g.part, f9.part, f9b.part, f9c.part, f9d.part, f9e.part, f9f.part, f9g.part])
